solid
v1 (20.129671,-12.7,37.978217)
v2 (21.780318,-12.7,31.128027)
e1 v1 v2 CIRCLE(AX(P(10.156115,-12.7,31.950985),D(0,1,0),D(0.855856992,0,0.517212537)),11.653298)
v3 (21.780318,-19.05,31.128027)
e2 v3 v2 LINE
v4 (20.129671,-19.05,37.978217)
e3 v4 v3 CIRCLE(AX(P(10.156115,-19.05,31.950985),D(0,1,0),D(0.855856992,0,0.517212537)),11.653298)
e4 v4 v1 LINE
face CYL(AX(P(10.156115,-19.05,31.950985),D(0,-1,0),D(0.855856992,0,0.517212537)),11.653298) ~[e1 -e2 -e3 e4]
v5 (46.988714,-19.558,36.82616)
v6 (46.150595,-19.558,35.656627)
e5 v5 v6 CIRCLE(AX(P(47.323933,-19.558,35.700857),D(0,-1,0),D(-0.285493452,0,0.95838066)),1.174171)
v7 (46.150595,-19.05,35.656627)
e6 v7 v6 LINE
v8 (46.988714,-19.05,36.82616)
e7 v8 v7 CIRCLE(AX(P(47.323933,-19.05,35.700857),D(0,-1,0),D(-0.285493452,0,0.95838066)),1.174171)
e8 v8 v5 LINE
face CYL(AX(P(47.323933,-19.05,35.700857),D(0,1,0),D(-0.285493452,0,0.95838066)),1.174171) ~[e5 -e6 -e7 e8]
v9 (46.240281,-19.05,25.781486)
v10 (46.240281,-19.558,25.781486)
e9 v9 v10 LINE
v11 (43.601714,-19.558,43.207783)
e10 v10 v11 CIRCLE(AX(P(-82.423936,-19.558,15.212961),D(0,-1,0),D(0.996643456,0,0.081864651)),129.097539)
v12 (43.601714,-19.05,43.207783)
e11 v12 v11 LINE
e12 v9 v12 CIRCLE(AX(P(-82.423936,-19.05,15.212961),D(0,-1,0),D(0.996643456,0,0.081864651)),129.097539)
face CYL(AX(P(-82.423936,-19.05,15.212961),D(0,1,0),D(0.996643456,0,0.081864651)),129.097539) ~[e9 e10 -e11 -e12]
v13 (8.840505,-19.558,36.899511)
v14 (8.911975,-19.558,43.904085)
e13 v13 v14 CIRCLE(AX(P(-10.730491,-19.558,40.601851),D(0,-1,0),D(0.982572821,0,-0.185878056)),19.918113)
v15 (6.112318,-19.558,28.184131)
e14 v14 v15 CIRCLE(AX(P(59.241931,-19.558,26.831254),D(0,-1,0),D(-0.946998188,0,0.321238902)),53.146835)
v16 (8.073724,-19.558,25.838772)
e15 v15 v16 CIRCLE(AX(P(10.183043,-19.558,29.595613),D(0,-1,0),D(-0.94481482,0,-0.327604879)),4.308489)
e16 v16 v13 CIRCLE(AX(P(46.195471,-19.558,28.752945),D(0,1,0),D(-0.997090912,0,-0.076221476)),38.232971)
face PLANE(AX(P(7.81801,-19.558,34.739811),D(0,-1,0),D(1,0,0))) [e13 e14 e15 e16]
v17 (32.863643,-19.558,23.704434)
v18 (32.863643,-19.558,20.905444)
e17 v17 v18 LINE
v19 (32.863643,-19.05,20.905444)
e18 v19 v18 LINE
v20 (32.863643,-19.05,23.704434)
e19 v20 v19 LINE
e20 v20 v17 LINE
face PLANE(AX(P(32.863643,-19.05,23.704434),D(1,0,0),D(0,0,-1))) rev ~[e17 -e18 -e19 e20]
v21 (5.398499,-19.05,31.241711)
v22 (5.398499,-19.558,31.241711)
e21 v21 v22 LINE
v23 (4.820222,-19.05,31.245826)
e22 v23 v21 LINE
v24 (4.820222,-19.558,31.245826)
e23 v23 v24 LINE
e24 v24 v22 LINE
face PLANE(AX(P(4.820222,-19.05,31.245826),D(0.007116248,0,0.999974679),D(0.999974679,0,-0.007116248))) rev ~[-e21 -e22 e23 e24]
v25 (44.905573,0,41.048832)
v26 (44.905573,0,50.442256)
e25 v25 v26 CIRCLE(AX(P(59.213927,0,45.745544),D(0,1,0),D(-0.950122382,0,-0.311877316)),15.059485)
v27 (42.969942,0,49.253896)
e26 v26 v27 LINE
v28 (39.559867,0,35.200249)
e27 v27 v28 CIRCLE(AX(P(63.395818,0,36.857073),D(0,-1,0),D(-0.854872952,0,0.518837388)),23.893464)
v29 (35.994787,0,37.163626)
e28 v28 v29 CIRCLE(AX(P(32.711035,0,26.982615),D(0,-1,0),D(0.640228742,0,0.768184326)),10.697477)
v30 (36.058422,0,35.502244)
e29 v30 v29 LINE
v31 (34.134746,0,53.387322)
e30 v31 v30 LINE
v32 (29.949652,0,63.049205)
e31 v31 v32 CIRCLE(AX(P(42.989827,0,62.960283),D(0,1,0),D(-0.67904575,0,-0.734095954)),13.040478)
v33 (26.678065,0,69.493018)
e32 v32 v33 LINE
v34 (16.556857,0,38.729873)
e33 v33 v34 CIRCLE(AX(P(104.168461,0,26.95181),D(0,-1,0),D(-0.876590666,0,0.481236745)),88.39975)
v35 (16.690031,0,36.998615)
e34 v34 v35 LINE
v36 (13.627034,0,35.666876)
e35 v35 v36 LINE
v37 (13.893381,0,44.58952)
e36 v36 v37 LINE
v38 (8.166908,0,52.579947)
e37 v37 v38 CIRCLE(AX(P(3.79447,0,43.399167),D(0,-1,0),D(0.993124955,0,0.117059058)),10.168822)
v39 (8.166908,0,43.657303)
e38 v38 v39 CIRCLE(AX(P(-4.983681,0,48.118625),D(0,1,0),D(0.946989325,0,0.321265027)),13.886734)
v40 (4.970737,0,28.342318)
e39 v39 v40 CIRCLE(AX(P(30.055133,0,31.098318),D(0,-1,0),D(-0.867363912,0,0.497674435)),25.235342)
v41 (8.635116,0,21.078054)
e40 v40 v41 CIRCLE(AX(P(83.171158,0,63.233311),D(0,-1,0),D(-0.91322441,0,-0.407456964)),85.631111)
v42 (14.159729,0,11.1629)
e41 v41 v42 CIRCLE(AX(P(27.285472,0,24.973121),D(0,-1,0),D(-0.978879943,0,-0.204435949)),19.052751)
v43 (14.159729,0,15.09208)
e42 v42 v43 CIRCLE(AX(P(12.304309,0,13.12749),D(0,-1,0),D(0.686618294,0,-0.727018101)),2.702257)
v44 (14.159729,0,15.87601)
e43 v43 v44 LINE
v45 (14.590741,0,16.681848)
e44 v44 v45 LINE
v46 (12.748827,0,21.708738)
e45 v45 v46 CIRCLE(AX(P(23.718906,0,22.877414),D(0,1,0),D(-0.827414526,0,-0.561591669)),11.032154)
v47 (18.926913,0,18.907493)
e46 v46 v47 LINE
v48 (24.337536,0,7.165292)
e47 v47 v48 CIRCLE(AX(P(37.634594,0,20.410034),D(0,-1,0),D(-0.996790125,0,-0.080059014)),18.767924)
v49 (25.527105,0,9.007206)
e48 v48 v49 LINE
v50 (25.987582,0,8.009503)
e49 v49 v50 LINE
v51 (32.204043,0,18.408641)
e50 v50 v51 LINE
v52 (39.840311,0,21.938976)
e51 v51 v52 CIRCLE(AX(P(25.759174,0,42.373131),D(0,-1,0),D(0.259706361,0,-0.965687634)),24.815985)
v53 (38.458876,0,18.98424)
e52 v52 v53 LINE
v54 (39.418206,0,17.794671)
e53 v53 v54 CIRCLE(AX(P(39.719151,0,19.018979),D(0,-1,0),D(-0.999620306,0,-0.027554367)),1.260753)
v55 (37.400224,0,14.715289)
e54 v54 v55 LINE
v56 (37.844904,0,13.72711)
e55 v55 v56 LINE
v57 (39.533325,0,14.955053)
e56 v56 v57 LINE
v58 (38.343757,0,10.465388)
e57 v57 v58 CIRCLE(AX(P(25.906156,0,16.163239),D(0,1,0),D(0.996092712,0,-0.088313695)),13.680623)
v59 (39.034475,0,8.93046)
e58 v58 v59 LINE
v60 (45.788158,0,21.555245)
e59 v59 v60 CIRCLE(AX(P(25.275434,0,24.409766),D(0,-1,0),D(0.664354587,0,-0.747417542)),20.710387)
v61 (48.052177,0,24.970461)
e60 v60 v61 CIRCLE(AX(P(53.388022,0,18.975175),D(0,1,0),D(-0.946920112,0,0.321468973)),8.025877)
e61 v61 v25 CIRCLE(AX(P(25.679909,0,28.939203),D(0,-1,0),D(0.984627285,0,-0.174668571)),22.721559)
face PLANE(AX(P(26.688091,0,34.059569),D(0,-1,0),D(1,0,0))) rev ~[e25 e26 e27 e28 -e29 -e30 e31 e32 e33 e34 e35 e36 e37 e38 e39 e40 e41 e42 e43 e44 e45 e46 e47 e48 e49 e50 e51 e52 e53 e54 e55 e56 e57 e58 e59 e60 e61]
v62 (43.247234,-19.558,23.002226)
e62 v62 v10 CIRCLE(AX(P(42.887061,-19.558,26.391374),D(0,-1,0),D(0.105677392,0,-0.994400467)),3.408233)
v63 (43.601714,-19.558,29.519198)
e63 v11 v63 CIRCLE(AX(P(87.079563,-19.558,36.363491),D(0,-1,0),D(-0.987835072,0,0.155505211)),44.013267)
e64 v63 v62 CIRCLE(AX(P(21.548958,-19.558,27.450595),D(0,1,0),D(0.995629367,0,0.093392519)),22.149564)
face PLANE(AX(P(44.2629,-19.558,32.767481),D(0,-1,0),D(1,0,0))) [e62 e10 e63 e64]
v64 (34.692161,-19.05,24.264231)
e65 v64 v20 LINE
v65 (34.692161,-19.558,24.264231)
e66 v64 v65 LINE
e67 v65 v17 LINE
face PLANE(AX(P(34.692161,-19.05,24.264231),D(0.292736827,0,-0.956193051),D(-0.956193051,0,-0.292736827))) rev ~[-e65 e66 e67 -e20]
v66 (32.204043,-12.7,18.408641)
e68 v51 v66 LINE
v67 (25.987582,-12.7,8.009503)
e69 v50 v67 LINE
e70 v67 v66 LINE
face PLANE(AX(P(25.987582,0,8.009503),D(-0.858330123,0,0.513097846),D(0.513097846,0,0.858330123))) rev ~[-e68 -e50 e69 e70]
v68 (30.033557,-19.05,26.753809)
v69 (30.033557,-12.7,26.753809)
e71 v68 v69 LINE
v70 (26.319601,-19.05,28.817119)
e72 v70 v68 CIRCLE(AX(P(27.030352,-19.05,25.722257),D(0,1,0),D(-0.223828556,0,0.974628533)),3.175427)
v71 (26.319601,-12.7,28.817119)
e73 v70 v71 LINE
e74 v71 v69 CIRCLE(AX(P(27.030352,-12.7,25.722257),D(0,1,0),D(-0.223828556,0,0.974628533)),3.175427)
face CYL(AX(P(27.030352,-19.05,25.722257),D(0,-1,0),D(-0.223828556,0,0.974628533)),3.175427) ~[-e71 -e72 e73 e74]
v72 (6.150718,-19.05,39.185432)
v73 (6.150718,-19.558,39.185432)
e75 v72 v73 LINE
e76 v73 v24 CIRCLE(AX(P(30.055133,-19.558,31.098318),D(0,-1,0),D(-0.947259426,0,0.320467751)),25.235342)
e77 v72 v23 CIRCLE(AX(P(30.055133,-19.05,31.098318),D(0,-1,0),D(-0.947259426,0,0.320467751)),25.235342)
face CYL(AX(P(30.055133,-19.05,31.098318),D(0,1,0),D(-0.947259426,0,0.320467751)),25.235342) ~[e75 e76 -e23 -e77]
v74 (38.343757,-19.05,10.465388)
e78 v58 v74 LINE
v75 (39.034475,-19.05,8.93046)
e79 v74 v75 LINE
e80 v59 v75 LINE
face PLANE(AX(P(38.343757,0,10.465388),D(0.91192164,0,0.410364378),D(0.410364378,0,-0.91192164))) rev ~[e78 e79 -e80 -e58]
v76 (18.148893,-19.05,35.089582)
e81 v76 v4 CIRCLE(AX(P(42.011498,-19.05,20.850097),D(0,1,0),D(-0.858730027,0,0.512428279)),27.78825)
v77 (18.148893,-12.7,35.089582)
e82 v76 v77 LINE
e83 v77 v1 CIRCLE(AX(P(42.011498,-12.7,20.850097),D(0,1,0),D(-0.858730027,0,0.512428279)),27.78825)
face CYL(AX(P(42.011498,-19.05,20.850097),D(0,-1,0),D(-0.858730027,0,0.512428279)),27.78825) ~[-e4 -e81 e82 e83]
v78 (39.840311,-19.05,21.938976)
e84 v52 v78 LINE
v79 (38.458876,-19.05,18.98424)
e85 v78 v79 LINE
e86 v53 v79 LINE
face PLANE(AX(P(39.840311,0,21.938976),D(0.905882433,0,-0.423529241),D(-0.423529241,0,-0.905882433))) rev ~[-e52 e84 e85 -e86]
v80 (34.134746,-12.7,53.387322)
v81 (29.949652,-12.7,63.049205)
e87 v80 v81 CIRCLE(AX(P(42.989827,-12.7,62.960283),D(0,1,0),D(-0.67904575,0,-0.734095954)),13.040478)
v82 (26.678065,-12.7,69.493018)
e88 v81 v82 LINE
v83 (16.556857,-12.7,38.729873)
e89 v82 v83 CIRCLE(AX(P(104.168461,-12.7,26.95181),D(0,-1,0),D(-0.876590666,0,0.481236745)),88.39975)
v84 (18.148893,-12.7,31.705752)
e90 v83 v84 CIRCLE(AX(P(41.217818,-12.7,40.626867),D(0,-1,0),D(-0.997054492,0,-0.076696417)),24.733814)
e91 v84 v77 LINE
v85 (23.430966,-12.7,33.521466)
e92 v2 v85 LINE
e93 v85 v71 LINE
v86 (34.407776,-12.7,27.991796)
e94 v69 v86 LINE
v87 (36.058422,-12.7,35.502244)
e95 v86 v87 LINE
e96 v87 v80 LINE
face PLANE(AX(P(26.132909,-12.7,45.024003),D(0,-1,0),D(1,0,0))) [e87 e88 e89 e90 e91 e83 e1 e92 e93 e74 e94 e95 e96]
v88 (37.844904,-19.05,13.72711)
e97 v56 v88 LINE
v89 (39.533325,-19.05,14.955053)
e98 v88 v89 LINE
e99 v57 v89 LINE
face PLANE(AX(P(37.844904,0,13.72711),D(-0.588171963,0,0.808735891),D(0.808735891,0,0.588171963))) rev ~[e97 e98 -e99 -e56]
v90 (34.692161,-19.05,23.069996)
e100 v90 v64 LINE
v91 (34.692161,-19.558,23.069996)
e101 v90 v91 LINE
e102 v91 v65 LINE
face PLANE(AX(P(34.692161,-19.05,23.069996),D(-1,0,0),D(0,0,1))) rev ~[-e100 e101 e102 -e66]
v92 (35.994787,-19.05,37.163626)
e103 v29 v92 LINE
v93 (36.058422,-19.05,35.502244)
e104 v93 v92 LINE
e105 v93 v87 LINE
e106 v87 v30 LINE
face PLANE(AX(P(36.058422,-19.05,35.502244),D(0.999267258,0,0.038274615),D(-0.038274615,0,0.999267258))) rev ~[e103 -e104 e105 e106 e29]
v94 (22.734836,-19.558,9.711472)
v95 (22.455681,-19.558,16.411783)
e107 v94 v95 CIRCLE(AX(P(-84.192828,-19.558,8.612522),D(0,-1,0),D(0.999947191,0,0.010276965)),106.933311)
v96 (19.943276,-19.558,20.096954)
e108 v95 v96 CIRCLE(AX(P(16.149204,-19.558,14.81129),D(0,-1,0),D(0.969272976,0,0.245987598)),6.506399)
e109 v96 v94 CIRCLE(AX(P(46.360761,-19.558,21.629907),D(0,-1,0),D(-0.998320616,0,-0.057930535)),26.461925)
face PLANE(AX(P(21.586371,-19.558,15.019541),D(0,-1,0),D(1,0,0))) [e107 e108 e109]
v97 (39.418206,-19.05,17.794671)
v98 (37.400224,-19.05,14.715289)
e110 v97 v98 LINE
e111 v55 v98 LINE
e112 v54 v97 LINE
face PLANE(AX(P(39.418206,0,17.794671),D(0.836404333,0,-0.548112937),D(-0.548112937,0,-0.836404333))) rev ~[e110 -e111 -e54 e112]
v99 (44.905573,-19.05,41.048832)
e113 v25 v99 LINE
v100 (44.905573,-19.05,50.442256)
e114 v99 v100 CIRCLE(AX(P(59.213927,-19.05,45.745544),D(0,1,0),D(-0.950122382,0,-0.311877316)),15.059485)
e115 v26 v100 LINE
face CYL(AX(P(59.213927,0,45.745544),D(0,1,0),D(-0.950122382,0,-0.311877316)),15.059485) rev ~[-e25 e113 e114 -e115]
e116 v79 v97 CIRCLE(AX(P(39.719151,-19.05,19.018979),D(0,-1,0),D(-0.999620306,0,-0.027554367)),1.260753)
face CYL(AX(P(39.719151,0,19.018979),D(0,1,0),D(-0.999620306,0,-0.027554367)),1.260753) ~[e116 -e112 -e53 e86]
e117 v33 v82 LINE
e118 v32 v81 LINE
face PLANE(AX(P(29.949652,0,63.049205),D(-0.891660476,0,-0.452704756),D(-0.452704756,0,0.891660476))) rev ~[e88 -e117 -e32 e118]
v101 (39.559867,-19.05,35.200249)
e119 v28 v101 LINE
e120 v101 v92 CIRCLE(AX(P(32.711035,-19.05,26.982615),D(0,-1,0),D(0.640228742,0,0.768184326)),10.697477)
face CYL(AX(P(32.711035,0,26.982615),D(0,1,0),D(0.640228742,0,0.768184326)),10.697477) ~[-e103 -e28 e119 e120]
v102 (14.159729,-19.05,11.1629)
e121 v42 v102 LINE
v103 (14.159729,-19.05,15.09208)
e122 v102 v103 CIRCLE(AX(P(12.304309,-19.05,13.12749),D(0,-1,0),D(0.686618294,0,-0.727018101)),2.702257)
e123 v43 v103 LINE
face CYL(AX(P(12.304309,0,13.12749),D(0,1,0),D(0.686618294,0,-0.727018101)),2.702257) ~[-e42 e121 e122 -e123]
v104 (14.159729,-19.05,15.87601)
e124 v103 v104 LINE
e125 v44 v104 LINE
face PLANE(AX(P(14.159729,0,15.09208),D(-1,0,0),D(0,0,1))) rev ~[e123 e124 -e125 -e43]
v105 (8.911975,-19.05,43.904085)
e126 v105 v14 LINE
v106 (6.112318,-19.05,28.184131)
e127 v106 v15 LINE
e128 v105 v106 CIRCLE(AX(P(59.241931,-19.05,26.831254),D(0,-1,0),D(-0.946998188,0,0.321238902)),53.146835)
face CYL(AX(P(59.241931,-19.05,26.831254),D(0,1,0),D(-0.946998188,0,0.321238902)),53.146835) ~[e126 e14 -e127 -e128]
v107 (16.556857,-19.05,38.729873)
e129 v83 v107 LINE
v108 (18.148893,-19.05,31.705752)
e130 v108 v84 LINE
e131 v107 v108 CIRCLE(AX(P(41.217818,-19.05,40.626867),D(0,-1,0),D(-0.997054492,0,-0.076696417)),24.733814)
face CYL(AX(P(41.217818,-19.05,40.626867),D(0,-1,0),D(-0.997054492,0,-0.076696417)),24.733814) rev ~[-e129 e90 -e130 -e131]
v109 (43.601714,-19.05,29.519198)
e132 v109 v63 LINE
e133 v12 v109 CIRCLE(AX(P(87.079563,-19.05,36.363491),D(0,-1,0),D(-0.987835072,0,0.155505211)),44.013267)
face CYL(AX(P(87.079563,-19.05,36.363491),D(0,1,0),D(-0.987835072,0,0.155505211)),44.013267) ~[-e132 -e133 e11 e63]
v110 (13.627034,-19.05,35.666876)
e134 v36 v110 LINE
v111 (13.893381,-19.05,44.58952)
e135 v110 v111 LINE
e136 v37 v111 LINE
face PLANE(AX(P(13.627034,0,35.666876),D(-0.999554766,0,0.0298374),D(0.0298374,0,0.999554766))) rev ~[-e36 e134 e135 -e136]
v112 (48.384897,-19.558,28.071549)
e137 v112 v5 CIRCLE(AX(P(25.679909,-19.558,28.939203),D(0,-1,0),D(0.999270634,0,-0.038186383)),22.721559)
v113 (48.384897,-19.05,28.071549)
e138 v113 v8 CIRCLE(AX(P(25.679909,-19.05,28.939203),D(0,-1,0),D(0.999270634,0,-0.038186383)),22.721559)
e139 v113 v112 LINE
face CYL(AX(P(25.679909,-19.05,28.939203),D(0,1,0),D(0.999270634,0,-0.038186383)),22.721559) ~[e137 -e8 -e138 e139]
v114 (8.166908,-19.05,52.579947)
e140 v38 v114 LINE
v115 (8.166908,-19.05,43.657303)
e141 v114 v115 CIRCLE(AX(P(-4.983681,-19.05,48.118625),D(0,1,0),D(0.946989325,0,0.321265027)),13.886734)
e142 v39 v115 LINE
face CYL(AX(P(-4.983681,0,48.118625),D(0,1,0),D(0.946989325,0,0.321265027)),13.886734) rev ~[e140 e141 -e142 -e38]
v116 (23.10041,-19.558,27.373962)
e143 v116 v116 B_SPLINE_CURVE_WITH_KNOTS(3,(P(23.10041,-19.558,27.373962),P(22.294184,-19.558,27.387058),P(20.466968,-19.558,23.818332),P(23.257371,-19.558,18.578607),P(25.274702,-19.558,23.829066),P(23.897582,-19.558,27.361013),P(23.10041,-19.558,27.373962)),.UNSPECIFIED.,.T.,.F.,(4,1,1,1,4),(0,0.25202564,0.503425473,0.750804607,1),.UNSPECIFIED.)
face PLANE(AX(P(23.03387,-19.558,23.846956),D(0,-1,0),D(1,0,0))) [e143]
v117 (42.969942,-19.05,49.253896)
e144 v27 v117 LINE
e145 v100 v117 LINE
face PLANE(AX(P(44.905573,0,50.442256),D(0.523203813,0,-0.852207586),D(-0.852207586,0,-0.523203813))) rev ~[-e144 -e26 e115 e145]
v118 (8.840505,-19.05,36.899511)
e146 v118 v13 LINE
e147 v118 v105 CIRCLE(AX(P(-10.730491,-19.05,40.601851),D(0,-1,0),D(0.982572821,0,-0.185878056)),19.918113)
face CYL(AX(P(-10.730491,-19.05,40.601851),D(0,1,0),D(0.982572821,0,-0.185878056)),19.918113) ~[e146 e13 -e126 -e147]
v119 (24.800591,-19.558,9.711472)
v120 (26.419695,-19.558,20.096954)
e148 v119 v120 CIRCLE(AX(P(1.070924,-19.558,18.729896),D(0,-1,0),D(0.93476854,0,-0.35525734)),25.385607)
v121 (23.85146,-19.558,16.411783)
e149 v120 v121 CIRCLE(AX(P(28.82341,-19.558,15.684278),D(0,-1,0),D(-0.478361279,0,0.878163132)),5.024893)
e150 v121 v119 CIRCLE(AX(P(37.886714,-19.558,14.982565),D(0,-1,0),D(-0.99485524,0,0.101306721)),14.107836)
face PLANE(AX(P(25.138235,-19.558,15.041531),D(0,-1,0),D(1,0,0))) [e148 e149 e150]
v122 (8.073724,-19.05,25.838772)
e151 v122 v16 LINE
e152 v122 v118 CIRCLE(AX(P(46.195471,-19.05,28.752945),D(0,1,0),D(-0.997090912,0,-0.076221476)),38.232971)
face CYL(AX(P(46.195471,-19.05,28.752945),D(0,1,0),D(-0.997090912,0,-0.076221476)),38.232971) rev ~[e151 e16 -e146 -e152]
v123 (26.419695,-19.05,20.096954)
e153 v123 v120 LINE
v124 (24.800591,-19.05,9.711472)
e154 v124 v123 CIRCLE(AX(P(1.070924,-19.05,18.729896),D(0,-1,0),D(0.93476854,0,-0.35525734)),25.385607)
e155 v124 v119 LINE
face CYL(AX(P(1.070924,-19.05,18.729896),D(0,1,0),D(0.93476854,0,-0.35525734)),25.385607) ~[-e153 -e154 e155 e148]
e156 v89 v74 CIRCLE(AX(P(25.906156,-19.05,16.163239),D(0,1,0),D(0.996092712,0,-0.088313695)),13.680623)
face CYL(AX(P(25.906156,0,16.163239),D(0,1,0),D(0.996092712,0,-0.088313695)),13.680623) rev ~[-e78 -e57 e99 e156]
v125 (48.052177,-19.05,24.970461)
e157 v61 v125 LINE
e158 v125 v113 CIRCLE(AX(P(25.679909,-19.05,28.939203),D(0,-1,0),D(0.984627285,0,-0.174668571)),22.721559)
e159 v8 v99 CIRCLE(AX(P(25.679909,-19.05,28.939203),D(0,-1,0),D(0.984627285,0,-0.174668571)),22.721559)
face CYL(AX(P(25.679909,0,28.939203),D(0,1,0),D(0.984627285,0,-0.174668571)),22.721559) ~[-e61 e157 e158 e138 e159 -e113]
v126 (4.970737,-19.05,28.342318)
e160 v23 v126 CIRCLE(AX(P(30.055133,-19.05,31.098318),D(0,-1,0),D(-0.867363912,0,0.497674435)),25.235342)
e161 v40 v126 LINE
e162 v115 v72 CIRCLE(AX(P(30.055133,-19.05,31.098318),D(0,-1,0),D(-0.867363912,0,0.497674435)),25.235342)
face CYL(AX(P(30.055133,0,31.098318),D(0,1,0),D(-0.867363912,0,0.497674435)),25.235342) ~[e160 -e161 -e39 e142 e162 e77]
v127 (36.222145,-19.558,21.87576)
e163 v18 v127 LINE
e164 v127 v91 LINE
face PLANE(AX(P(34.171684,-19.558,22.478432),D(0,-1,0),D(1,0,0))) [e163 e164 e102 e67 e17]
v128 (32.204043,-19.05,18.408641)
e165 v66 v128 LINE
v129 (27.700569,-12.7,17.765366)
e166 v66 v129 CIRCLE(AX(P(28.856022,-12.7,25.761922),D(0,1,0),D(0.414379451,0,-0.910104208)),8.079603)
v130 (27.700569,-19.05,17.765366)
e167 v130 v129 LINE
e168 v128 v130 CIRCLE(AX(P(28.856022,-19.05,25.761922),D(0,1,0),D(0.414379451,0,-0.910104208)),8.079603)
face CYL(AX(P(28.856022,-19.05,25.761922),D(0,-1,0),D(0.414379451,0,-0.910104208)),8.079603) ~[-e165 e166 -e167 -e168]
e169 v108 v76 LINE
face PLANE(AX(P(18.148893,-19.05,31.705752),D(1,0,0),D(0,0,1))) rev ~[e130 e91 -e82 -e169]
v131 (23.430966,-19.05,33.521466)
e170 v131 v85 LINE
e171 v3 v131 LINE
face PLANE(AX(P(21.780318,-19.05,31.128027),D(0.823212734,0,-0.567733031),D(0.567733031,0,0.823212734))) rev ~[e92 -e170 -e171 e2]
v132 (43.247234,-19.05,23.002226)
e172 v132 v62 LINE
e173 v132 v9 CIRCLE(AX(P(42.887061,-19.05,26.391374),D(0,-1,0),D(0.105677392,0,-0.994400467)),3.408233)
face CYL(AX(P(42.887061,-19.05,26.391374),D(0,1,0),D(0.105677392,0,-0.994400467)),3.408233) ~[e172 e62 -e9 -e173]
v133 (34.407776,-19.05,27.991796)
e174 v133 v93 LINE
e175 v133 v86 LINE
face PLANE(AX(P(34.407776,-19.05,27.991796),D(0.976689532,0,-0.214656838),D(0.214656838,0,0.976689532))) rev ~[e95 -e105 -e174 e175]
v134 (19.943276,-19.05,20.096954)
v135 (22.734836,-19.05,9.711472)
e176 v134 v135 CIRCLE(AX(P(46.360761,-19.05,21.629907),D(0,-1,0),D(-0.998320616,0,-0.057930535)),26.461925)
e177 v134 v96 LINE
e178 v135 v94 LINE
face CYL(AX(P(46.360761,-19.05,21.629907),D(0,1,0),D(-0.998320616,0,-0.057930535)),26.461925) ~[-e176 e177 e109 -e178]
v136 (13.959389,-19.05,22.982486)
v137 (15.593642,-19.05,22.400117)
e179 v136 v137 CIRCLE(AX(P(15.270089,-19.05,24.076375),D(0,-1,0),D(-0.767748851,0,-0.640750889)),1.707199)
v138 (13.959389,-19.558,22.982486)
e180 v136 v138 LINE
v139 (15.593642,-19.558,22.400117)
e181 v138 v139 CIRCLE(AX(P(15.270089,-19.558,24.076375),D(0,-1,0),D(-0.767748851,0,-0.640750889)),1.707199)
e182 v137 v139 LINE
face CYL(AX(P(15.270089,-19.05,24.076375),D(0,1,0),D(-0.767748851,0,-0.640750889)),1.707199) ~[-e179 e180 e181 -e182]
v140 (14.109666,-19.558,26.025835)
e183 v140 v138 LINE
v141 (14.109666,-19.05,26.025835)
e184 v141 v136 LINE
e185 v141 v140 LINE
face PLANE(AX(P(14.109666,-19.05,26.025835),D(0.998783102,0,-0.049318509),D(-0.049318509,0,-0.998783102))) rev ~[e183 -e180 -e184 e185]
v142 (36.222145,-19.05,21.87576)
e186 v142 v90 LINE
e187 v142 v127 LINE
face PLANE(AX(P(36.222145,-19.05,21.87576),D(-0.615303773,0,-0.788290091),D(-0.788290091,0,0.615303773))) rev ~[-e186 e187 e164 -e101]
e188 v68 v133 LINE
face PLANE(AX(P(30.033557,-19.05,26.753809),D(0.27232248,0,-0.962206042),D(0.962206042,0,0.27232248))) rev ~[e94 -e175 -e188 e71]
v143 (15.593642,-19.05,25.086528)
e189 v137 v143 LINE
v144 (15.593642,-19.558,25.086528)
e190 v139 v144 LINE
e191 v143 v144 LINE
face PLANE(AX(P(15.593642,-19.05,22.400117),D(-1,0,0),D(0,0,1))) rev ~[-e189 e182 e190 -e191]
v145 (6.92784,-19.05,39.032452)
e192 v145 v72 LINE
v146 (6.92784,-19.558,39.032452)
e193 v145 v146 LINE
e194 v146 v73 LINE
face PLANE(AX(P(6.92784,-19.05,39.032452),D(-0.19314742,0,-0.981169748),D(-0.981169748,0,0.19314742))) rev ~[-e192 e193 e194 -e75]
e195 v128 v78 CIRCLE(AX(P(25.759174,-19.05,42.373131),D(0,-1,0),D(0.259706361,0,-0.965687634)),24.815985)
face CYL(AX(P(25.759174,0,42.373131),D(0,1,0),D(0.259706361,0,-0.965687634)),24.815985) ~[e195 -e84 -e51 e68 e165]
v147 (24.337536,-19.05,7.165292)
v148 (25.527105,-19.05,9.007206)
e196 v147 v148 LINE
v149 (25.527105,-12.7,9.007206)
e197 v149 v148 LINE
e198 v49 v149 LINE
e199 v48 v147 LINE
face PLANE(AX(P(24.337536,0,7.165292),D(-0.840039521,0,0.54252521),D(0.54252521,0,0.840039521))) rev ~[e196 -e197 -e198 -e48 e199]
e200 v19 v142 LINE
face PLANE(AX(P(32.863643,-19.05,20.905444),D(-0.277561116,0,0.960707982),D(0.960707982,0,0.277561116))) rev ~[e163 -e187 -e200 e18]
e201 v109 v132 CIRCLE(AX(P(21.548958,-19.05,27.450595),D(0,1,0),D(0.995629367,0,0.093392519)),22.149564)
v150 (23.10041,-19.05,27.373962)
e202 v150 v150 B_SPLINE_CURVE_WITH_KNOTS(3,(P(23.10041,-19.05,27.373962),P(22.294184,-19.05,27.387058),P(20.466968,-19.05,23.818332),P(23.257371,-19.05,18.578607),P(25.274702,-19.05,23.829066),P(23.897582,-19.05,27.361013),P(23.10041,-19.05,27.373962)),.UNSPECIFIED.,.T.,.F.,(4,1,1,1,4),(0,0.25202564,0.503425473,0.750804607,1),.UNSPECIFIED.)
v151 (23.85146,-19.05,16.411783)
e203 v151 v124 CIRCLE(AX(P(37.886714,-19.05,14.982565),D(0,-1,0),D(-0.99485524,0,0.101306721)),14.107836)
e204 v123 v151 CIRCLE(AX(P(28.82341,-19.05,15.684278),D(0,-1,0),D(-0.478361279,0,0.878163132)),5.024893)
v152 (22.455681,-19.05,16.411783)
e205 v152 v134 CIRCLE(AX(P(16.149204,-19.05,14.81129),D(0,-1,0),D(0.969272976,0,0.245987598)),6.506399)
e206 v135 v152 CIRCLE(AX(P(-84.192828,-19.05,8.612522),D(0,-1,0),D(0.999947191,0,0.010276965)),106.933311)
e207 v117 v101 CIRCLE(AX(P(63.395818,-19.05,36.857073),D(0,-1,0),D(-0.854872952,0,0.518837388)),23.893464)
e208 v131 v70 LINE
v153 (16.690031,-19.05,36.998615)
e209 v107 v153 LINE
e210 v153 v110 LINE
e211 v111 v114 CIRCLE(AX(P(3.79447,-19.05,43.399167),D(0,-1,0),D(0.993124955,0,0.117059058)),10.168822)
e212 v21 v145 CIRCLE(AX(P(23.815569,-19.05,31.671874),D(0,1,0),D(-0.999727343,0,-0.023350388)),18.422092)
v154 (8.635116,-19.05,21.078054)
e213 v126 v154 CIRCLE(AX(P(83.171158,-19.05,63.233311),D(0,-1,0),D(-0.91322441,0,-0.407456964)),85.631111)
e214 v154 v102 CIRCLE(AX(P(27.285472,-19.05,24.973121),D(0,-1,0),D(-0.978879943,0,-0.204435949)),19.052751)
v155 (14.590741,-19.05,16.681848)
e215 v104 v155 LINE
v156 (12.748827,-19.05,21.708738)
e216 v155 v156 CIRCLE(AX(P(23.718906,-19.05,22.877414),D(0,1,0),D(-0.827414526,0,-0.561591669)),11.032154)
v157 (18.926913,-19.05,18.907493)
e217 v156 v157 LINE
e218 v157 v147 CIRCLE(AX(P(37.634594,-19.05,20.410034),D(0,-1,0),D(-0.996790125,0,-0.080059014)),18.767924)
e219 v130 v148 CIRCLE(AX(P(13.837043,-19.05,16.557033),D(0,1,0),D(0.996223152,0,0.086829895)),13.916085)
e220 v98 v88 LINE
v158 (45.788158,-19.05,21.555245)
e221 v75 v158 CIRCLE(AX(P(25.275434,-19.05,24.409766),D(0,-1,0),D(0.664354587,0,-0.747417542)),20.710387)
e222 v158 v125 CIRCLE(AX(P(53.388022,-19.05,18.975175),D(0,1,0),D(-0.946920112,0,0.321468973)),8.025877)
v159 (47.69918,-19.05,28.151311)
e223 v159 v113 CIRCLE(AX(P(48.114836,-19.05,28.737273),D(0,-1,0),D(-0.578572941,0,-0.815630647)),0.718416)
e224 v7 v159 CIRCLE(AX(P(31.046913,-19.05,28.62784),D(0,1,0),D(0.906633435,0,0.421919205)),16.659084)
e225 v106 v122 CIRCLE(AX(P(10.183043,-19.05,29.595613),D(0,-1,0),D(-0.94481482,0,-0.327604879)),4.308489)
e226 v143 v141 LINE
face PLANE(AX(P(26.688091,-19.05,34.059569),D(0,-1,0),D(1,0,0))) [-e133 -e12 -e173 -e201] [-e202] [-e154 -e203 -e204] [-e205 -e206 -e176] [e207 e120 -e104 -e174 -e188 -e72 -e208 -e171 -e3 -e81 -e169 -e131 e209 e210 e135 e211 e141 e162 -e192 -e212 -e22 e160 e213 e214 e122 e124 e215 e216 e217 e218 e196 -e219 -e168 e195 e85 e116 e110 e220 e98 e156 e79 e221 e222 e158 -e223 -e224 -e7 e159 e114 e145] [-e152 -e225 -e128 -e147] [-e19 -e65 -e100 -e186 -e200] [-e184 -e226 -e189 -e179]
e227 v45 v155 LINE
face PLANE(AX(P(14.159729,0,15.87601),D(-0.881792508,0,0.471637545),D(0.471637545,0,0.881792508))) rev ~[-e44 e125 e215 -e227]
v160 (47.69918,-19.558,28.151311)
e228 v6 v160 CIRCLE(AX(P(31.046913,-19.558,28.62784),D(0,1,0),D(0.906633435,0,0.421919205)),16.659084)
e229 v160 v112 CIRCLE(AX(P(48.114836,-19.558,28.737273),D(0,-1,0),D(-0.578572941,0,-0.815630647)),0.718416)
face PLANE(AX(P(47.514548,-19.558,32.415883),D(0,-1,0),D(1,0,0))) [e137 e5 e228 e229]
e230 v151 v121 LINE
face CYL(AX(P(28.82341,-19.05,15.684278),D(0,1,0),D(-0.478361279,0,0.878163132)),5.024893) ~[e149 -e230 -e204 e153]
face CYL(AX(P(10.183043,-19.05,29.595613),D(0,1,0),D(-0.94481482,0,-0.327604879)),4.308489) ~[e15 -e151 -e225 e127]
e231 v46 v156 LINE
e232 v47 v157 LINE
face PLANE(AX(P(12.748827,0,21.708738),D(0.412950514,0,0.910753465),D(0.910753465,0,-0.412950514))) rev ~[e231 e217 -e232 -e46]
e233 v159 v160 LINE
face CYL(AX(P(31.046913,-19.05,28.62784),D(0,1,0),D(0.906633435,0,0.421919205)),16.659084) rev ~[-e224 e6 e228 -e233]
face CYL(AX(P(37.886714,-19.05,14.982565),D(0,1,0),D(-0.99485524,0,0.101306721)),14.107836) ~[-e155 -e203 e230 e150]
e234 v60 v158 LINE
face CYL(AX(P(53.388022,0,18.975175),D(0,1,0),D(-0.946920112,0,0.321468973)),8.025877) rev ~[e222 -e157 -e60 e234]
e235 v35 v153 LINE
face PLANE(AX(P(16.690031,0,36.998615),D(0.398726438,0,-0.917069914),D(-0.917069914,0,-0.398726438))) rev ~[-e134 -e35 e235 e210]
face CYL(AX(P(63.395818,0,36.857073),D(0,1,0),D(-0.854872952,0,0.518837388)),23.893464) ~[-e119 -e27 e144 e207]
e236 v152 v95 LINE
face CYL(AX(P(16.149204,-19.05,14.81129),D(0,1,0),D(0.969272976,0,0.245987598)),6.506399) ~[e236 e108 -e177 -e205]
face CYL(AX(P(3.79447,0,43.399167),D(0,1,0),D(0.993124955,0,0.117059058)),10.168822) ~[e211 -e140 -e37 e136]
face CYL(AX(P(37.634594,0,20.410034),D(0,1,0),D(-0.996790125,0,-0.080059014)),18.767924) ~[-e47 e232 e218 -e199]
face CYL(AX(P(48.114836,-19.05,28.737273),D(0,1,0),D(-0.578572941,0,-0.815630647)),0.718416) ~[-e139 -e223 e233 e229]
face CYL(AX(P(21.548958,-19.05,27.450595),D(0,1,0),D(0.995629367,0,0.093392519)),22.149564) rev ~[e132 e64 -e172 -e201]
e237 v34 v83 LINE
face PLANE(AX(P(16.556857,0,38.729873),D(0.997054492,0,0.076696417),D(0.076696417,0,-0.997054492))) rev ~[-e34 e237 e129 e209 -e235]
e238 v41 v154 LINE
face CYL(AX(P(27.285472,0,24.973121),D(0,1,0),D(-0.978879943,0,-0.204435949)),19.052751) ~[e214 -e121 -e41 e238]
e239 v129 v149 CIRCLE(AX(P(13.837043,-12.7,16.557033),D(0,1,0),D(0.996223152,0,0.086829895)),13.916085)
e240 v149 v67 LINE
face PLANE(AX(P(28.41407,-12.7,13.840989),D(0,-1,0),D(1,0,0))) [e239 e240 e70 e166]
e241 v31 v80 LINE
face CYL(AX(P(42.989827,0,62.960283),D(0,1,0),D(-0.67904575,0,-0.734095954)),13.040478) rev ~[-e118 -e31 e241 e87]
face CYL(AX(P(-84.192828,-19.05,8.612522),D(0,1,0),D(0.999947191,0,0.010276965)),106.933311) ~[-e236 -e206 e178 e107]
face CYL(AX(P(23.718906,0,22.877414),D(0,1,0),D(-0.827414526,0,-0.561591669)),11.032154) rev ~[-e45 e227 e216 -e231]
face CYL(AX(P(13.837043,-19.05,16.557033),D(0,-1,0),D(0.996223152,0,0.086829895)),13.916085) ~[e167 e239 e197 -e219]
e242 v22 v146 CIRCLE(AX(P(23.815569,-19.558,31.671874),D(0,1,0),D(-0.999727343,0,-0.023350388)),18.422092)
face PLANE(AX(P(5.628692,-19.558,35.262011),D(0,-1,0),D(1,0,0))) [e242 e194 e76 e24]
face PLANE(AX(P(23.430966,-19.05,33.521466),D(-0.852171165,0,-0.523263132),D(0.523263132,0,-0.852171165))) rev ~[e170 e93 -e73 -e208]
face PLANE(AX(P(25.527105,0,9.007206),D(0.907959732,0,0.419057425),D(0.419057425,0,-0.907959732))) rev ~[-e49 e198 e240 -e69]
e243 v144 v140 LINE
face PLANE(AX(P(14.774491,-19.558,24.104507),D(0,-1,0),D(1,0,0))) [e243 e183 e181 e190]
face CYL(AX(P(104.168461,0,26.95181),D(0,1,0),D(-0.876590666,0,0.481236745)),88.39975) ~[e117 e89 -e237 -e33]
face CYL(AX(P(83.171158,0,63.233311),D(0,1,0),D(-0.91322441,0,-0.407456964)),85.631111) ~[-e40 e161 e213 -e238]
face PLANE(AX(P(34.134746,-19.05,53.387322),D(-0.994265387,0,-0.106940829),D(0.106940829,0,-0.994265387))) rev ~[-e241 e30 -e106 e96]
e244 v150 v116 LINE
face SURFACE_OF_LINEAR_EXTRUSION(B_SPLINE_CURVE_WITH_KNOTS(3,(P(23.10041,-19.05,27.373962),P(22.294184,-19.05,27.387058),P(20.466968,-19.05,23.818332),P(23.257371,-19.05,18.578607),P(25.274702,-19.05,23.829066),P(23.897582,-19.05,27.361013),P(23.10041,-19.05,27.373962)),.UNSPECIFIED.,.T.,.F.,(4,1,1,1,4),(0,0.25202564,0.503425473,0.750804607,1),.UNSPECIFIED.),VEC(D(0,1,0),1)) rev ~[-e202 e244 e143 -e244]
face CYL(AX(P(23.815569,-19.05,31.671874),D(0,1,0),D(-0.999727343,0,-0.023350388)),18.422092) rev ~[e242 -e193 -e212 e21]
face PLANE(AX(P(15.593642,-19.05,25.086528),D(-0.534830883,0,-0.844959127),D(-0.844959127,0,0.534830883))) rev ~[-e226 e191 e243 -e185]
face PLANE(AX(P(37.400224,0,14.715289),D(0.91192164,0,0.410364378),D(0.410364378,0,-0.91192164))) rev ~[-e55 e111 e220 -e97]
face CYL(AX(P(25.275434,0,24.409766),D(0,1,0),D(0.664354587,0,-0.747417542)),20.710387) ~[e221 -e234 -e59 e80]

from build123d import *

# Parameters (mm, degrees)
F1_DEPTH = 19.05
F3_DEPTH = 6.35
F5_DEPTH = 0.508
F7_DEPTH = 19.05


with BuildPart() as f1:
    # F0 (on Front) → F1 (new body)
    with BuildSketch(Plane.XZ):
        with BuildLine():
            Line((29.9496520311, 63.0492046475), (26.6780648381, 69.4930180907))
            ThreePointArc((26.6780648381, 69.4930180907), (20.196677745, 54.5788891456), (16.5568571538, 38.7298725545))
            Line((16.5568571538, 38.7298725545), (16.690030694, 36.9986146688))
            Line((16.690030694, 36.9986146688), (13.6270336807, 35.6668755412))
            Line((13.6270336807, 35.6668755412), (13.8933807611, 44.5895195007))
            ThreePointArc((13.8933807611, 44.5895195007), (12.059862786, 49.3226978569), (8.1669082865, 52.579946816))
            ThreePointArc((8.1669082865, 52.579946816), (8.9030534245, 48.1186248362), (8.1669082865, 43.6573028564))
            ThreePointArc((8.1669082865, 43.6573028564), (5.3520163839, 36.253752533), (4.9707368016, 28.3423177898))
            ThreePointArc((4.9707368016, 28.3423177898), (6.7166015974, 24.6666402647), (8.6351158097, 21.0780538619))
            ThreePointArc((8.6351158097, 21.0780538619), (10.6419239697, 15.6995218737), (14.1597287729, 11.1629003659))
            ThreePointArc((14.1597287729, 11.1629003659), (15.0065668093, 13.1274904124), (14.1597287729, 15.092080459))
            Line((14.1597287729, 15.092080459), (14.1597287729, 15.8760100603))
            Line((14.1597287729, 15.8760100603), (14.5907411352, 16.6818480939))
            ThreePointArc((14.5907411352, 16.6818480939), (13.3602258193, 19.0818671101), (12.7488272265, 21.7087380588))
            Line((12.7488272265, 21.7087380588), (18.9269129187, 18.9074929804))
            ThreePointArc((18.9269129187, 18.9074929804), (20.5891941392, 12.5557803876), (24.337535724, 7.1652918123))
            Line((24.337535724, 7.1652918123), (25.5271047354, 9.0072061867))
            Line((25.5271047354, 9.0072061867), (25.9875822812, 8.0095026642))
            Line((25.9875822812, 8.0095026642), (32.2040431201, 18.4086412191))
            ThreePointArc((32.2040431201, 18.4086412191), (36.1728690985, 19.8478549134), (39.840310812, 21.9389759004))
            Line((39.840310812, 21.9389759004), (38.4588763118, 18.9842395484))
            ThreePointArc((38.4588763118, 18.9842395484), (38.7377638768, 18.2275381272), (39.4182056189, 17.7946705371))
            Line((39.4182056189, 17.7946705371), (37.4002235949, 14.7152889057))
            Line((37.4002235949, 14.7152889057), (37.8449037671, 13.7271098793))
            Line((37.8449037671, 13.7271098793), (39.5333245397, 14.955053106))
            ThreePointArc((39.5333245397, 14.955053106), (39.1304643178, 12.6593692531), (38.343757391, 10.4653881863))
            Line((38.343757391, 10.4653881863), (39.0344746411, 8.9304596186))
            ThreePointArc((39.0344746411, 8.9304596186), (43.5369991038, 14.6406633619), (45.7881577313, 21.5552449226))
            ThreePointArc((45.7881577313, 21.5552449226), (46.6985474779, 23.4097692807), (48.0521768332, 24.9704606831))
            ThreePointArc((48.0521768332, 24.9704606831), (47.9784626543, 33.30312196), (44.9055731297, 41.0488322377))
            ThreePointArc((44.9055731297, 41.0488322377), (44.1544418608, 45.7455441356), (44.9055731297, 50.4422560334))
            Line((44.9055731297, 50.4422560334), (42.9699420929, 49.2538958788))
            ThreePointArc((42.9699420929, 49.2538958788), (40.1761373605, 42.4912587379), (39.559867233, 35.2002494037))
            ThreePointArc((39.559867233, 35.2002494037), (37.8715608426, 36.3530467771), (35.9947867692, 37.1636264026))
            Line((35.9947867692, 37.1636264026), (34.1347455978, 53.3873215318))
            ThreePointArc((34.1347455978, 53.3873215318), (31.023684759, 57.7770885722), (29.9496520311, 63.0492046475))
        make_face()
    extrude(amount=F1_DEPTH)

    # F2 (on face) → F3 (cut)
    with BuildSketch(Plane.XZ.offset(19.05)):
        with BuildLine():
            Line((36.058422178, 35.5022437871), (34.1347455978, 53.3873215318))
            ThreePointArc((34.1347455978, 53.3873215318), (31.023684759, 57.7770885722), (29.9496520311, 63.0492046475))
            Line((29.9496520311, 63.0492046475), (26.6780648381, 69.4930180907))
            ThreePointArc((26.6780648381, 69.4930180907), (20.196677745, 54.5788891456), (16.5568571538, 38.7298725545))
            ThreePointArc((16.5568571538, 38.7298725545), (17.0958351547, 35.1595534204), (18.1488934904, 31.7057520151))
            Line((18.1488934904, 31.7057520151), (18.1488934904, 35.0895822048))
            ThreePointArc((18.1488934904, 35.0895822048), (19.0937254429, 36.5651386602), (20.1296713203, 37.9782170057))
            ThreePointArc((20.1296713203, 37.9782170057), (21.4851518176, 34.6808703775), (21.7803176492, 31.128026545))
            Line((21.7803176492, 31.128026545), (23.4309658408, 33.5214659572))
            Line((23.4309658408, 33.5214659572), (26.3196006417, 28.8171190768))
            ThreePointArc((26.3196006417, 28.8171190768), (28.572476319, 28.4980796307), (30.0335567445, 26.753809303))
            Line((30.0335567445, 26.753809303), (34.4077758491, 27.9917959124))
            Line((34.4077758491, 27.9917959124), (36.058422178, 35.5022437871))
        make_face()
        with BuildLine():
            ThreePointArc((27.7005694807, 17.765365541), (27.3434417277, 13.2052238558), (25.5271047354, 9.0072061867))
            Line((25.5271047354, 9.0072061867), (25.9875822812, 8.0095026642))
            Line((25.9875822812, 8.0095026642), (32.2040431201, 18.4086412191))
            ThreePointArc((32.2040431201, 18.4086412191), (29.9985149549, 17.7635037289), (27.7005694807, 17.765365541))
        make_face()
    extrude(amount=-F3_DEPTH, mode=Mode.SUBTRACT)

    # F4 (on face) → F5 (join)
    with BuildSketch(Plane.XZ.offset(19.05)):
        with BuildLine():
            ThreePointArc((46.2402813137, 25.7814861834), (45.2187335689, 34.5397157881), (43.6017140746, 43.207783252))
            ThreePointArc((43.6017140746, 43.207783252), (43.0662958477, 36.3634908572), (43.6017140746, 29.5191984624))
            ThreePointArc((43.6017140746, 29.5191984624), (43.6658279482, 26.2475841373), (43.2472340763, 23.0022259057))
            ThreePointArc((43.2472340763, 23.0022259057), (45.2061975799, 23.8938442422), (46.2402813137, 25.7814861834))
        make_face()
        with BuildLine():
            add(Edge.make_bspline(
                [(23.1004096568, 27.3739621043), (22.294183528, 27.387058336), (20.4669677334, 23.8183321525), (23.2573713599, 18.5786067922), (25.274701666, 23.8290656185), (23.8975818691, 27.3610129433), (23.1004096568, 27.3739621043)],
                knots=[0, 0, 0, 0, 0.2520256396, 0.5034254726, 0.7508046074, 1, 1, 1, 1], degree=3))
        make_face()
        with BuildLine():
            ThreePointArc((26.4196954668, 20.0969539583), (24.7008830261, 18.5573119841), (23.8514598459, 16.4117831737))
            ThreePointArc((23.8514598459, 16.4117831737), (23.9183277727, 13.0038753965), (24.8005911708, 9.7114723176))
            ThreePointArc((24.8005911708, 9.7114723176), (26.1535443213, 14.8194965183), (26.4196954668, 20.0969539583))
        make_face()
        with BuildLine():
            ThreePointArc((22.4556811154, 16.4117831737), (21.5251128707, 18.4763731071), (19.9432764202, 20.0969539583))
            ThreePointArc((19.9432764202, 20.0969539583), (20.8059126552, 14.7609071695), (22.7348357439, 9.7114723176))
            ThreePointArc((22.7348357439, 9.7114723176), (22.6477960375, 13.0638166167), (22.4556811154, 16.4117831737))
        make_face()
        with BuildLine():
            ThreePointArc((47.6991795003, 28.1513109803), (48.0318296747, 28.0236684218), (48.3848965621, 28.0715488384))
            ThreePointArc((48.3848965621, 28.0715488384), (48.1179191479, 32.5176082952), (46.9887144833, 36.8261600773))
            ThreePointArc((46.9887144833, 36.8261600773), (46.369528668, 36.3848095296), (46.1505949497, 35.6566272676))
            ThreePointArc((46.1505949497, 35.6566272676), (47.3623200822, 31.9942253821), (47.6991795003, 28.1513109803))
        make_face()
        with BuildLine():
            ThreePointArc((8.9119747281, 43.9040847123), (6.9184195013, 36.1498479724), (6.1123180203, 28.1841307878))
            ThreePointArc((6.1123180203, 28.1841307878), (6.8779842089, 26.8316177222), (8.073723875, 25.838771835))
            ThreePointArc((8.073723875, 25.838771835), (8.0540428558, 31.3970840751), (8.8405050337, 36.899510771))
            ThreePointArc((8.8405050337, 36.899510771), (9.1865848284, 40.3986312024), (8.9119747281, 43.9040847123))
        make_face()
        with BuildLine():
            ThreePointArc((5.3984993137, 31.2417112291), (5.7384809183, 35.2204489081), (6.927839946, 39.0324518085))
            Line((6.927839946, 39.0324518085), (6.1507176873, 39.1854316164))
            ThreePointArc((6.1507176873, 39.1854316164), (5.1668291163, 35.2690259496), (4.820222396, 31.2458264954))
            Line((4.820222396, 31.2458264954), (5.3984993137, 31.2417112291))
        make_face()
        Polygon((32.8636430204, 20.9054443985), (36.2221449614, 21.8757595867), (34.6921607852, 23.0699963868), (34.6921607852, 24.2642313242), (32.8636430204, 23.7044338137), align=None)
        with BuildLine():
            Line((14.1096655279, 26.0258354247), (13.9593891799, 22.9824855924))
            ThreePointArc((13.9593891799, 22.9824855924), (14.6970245146, 22.4682314443), (15.5936423689, 22.4001165479))
            Line((15.5936423689, 22.4001165479), (15.5936423689, 25.0865276903))
            Line((15.5936423689, 25.0865276903), (14.1096655279, 26.0258354247))
        make_face()
    extrude(amount=F5_DEPTH)

    # F6 (on face) → F7 (cut, through all)
    with BuildSketch(Plane.XZ.offset(19.05)):
        Polygon((36.058422178, 35.5022437871), (35.9947867692, 37.1636264026), (34.1347455978, 53.3873215318), align=None)
    extrude(amount=-F7_DEPTH, mode=Mode.SUBTRACT)


solid = f1.part
